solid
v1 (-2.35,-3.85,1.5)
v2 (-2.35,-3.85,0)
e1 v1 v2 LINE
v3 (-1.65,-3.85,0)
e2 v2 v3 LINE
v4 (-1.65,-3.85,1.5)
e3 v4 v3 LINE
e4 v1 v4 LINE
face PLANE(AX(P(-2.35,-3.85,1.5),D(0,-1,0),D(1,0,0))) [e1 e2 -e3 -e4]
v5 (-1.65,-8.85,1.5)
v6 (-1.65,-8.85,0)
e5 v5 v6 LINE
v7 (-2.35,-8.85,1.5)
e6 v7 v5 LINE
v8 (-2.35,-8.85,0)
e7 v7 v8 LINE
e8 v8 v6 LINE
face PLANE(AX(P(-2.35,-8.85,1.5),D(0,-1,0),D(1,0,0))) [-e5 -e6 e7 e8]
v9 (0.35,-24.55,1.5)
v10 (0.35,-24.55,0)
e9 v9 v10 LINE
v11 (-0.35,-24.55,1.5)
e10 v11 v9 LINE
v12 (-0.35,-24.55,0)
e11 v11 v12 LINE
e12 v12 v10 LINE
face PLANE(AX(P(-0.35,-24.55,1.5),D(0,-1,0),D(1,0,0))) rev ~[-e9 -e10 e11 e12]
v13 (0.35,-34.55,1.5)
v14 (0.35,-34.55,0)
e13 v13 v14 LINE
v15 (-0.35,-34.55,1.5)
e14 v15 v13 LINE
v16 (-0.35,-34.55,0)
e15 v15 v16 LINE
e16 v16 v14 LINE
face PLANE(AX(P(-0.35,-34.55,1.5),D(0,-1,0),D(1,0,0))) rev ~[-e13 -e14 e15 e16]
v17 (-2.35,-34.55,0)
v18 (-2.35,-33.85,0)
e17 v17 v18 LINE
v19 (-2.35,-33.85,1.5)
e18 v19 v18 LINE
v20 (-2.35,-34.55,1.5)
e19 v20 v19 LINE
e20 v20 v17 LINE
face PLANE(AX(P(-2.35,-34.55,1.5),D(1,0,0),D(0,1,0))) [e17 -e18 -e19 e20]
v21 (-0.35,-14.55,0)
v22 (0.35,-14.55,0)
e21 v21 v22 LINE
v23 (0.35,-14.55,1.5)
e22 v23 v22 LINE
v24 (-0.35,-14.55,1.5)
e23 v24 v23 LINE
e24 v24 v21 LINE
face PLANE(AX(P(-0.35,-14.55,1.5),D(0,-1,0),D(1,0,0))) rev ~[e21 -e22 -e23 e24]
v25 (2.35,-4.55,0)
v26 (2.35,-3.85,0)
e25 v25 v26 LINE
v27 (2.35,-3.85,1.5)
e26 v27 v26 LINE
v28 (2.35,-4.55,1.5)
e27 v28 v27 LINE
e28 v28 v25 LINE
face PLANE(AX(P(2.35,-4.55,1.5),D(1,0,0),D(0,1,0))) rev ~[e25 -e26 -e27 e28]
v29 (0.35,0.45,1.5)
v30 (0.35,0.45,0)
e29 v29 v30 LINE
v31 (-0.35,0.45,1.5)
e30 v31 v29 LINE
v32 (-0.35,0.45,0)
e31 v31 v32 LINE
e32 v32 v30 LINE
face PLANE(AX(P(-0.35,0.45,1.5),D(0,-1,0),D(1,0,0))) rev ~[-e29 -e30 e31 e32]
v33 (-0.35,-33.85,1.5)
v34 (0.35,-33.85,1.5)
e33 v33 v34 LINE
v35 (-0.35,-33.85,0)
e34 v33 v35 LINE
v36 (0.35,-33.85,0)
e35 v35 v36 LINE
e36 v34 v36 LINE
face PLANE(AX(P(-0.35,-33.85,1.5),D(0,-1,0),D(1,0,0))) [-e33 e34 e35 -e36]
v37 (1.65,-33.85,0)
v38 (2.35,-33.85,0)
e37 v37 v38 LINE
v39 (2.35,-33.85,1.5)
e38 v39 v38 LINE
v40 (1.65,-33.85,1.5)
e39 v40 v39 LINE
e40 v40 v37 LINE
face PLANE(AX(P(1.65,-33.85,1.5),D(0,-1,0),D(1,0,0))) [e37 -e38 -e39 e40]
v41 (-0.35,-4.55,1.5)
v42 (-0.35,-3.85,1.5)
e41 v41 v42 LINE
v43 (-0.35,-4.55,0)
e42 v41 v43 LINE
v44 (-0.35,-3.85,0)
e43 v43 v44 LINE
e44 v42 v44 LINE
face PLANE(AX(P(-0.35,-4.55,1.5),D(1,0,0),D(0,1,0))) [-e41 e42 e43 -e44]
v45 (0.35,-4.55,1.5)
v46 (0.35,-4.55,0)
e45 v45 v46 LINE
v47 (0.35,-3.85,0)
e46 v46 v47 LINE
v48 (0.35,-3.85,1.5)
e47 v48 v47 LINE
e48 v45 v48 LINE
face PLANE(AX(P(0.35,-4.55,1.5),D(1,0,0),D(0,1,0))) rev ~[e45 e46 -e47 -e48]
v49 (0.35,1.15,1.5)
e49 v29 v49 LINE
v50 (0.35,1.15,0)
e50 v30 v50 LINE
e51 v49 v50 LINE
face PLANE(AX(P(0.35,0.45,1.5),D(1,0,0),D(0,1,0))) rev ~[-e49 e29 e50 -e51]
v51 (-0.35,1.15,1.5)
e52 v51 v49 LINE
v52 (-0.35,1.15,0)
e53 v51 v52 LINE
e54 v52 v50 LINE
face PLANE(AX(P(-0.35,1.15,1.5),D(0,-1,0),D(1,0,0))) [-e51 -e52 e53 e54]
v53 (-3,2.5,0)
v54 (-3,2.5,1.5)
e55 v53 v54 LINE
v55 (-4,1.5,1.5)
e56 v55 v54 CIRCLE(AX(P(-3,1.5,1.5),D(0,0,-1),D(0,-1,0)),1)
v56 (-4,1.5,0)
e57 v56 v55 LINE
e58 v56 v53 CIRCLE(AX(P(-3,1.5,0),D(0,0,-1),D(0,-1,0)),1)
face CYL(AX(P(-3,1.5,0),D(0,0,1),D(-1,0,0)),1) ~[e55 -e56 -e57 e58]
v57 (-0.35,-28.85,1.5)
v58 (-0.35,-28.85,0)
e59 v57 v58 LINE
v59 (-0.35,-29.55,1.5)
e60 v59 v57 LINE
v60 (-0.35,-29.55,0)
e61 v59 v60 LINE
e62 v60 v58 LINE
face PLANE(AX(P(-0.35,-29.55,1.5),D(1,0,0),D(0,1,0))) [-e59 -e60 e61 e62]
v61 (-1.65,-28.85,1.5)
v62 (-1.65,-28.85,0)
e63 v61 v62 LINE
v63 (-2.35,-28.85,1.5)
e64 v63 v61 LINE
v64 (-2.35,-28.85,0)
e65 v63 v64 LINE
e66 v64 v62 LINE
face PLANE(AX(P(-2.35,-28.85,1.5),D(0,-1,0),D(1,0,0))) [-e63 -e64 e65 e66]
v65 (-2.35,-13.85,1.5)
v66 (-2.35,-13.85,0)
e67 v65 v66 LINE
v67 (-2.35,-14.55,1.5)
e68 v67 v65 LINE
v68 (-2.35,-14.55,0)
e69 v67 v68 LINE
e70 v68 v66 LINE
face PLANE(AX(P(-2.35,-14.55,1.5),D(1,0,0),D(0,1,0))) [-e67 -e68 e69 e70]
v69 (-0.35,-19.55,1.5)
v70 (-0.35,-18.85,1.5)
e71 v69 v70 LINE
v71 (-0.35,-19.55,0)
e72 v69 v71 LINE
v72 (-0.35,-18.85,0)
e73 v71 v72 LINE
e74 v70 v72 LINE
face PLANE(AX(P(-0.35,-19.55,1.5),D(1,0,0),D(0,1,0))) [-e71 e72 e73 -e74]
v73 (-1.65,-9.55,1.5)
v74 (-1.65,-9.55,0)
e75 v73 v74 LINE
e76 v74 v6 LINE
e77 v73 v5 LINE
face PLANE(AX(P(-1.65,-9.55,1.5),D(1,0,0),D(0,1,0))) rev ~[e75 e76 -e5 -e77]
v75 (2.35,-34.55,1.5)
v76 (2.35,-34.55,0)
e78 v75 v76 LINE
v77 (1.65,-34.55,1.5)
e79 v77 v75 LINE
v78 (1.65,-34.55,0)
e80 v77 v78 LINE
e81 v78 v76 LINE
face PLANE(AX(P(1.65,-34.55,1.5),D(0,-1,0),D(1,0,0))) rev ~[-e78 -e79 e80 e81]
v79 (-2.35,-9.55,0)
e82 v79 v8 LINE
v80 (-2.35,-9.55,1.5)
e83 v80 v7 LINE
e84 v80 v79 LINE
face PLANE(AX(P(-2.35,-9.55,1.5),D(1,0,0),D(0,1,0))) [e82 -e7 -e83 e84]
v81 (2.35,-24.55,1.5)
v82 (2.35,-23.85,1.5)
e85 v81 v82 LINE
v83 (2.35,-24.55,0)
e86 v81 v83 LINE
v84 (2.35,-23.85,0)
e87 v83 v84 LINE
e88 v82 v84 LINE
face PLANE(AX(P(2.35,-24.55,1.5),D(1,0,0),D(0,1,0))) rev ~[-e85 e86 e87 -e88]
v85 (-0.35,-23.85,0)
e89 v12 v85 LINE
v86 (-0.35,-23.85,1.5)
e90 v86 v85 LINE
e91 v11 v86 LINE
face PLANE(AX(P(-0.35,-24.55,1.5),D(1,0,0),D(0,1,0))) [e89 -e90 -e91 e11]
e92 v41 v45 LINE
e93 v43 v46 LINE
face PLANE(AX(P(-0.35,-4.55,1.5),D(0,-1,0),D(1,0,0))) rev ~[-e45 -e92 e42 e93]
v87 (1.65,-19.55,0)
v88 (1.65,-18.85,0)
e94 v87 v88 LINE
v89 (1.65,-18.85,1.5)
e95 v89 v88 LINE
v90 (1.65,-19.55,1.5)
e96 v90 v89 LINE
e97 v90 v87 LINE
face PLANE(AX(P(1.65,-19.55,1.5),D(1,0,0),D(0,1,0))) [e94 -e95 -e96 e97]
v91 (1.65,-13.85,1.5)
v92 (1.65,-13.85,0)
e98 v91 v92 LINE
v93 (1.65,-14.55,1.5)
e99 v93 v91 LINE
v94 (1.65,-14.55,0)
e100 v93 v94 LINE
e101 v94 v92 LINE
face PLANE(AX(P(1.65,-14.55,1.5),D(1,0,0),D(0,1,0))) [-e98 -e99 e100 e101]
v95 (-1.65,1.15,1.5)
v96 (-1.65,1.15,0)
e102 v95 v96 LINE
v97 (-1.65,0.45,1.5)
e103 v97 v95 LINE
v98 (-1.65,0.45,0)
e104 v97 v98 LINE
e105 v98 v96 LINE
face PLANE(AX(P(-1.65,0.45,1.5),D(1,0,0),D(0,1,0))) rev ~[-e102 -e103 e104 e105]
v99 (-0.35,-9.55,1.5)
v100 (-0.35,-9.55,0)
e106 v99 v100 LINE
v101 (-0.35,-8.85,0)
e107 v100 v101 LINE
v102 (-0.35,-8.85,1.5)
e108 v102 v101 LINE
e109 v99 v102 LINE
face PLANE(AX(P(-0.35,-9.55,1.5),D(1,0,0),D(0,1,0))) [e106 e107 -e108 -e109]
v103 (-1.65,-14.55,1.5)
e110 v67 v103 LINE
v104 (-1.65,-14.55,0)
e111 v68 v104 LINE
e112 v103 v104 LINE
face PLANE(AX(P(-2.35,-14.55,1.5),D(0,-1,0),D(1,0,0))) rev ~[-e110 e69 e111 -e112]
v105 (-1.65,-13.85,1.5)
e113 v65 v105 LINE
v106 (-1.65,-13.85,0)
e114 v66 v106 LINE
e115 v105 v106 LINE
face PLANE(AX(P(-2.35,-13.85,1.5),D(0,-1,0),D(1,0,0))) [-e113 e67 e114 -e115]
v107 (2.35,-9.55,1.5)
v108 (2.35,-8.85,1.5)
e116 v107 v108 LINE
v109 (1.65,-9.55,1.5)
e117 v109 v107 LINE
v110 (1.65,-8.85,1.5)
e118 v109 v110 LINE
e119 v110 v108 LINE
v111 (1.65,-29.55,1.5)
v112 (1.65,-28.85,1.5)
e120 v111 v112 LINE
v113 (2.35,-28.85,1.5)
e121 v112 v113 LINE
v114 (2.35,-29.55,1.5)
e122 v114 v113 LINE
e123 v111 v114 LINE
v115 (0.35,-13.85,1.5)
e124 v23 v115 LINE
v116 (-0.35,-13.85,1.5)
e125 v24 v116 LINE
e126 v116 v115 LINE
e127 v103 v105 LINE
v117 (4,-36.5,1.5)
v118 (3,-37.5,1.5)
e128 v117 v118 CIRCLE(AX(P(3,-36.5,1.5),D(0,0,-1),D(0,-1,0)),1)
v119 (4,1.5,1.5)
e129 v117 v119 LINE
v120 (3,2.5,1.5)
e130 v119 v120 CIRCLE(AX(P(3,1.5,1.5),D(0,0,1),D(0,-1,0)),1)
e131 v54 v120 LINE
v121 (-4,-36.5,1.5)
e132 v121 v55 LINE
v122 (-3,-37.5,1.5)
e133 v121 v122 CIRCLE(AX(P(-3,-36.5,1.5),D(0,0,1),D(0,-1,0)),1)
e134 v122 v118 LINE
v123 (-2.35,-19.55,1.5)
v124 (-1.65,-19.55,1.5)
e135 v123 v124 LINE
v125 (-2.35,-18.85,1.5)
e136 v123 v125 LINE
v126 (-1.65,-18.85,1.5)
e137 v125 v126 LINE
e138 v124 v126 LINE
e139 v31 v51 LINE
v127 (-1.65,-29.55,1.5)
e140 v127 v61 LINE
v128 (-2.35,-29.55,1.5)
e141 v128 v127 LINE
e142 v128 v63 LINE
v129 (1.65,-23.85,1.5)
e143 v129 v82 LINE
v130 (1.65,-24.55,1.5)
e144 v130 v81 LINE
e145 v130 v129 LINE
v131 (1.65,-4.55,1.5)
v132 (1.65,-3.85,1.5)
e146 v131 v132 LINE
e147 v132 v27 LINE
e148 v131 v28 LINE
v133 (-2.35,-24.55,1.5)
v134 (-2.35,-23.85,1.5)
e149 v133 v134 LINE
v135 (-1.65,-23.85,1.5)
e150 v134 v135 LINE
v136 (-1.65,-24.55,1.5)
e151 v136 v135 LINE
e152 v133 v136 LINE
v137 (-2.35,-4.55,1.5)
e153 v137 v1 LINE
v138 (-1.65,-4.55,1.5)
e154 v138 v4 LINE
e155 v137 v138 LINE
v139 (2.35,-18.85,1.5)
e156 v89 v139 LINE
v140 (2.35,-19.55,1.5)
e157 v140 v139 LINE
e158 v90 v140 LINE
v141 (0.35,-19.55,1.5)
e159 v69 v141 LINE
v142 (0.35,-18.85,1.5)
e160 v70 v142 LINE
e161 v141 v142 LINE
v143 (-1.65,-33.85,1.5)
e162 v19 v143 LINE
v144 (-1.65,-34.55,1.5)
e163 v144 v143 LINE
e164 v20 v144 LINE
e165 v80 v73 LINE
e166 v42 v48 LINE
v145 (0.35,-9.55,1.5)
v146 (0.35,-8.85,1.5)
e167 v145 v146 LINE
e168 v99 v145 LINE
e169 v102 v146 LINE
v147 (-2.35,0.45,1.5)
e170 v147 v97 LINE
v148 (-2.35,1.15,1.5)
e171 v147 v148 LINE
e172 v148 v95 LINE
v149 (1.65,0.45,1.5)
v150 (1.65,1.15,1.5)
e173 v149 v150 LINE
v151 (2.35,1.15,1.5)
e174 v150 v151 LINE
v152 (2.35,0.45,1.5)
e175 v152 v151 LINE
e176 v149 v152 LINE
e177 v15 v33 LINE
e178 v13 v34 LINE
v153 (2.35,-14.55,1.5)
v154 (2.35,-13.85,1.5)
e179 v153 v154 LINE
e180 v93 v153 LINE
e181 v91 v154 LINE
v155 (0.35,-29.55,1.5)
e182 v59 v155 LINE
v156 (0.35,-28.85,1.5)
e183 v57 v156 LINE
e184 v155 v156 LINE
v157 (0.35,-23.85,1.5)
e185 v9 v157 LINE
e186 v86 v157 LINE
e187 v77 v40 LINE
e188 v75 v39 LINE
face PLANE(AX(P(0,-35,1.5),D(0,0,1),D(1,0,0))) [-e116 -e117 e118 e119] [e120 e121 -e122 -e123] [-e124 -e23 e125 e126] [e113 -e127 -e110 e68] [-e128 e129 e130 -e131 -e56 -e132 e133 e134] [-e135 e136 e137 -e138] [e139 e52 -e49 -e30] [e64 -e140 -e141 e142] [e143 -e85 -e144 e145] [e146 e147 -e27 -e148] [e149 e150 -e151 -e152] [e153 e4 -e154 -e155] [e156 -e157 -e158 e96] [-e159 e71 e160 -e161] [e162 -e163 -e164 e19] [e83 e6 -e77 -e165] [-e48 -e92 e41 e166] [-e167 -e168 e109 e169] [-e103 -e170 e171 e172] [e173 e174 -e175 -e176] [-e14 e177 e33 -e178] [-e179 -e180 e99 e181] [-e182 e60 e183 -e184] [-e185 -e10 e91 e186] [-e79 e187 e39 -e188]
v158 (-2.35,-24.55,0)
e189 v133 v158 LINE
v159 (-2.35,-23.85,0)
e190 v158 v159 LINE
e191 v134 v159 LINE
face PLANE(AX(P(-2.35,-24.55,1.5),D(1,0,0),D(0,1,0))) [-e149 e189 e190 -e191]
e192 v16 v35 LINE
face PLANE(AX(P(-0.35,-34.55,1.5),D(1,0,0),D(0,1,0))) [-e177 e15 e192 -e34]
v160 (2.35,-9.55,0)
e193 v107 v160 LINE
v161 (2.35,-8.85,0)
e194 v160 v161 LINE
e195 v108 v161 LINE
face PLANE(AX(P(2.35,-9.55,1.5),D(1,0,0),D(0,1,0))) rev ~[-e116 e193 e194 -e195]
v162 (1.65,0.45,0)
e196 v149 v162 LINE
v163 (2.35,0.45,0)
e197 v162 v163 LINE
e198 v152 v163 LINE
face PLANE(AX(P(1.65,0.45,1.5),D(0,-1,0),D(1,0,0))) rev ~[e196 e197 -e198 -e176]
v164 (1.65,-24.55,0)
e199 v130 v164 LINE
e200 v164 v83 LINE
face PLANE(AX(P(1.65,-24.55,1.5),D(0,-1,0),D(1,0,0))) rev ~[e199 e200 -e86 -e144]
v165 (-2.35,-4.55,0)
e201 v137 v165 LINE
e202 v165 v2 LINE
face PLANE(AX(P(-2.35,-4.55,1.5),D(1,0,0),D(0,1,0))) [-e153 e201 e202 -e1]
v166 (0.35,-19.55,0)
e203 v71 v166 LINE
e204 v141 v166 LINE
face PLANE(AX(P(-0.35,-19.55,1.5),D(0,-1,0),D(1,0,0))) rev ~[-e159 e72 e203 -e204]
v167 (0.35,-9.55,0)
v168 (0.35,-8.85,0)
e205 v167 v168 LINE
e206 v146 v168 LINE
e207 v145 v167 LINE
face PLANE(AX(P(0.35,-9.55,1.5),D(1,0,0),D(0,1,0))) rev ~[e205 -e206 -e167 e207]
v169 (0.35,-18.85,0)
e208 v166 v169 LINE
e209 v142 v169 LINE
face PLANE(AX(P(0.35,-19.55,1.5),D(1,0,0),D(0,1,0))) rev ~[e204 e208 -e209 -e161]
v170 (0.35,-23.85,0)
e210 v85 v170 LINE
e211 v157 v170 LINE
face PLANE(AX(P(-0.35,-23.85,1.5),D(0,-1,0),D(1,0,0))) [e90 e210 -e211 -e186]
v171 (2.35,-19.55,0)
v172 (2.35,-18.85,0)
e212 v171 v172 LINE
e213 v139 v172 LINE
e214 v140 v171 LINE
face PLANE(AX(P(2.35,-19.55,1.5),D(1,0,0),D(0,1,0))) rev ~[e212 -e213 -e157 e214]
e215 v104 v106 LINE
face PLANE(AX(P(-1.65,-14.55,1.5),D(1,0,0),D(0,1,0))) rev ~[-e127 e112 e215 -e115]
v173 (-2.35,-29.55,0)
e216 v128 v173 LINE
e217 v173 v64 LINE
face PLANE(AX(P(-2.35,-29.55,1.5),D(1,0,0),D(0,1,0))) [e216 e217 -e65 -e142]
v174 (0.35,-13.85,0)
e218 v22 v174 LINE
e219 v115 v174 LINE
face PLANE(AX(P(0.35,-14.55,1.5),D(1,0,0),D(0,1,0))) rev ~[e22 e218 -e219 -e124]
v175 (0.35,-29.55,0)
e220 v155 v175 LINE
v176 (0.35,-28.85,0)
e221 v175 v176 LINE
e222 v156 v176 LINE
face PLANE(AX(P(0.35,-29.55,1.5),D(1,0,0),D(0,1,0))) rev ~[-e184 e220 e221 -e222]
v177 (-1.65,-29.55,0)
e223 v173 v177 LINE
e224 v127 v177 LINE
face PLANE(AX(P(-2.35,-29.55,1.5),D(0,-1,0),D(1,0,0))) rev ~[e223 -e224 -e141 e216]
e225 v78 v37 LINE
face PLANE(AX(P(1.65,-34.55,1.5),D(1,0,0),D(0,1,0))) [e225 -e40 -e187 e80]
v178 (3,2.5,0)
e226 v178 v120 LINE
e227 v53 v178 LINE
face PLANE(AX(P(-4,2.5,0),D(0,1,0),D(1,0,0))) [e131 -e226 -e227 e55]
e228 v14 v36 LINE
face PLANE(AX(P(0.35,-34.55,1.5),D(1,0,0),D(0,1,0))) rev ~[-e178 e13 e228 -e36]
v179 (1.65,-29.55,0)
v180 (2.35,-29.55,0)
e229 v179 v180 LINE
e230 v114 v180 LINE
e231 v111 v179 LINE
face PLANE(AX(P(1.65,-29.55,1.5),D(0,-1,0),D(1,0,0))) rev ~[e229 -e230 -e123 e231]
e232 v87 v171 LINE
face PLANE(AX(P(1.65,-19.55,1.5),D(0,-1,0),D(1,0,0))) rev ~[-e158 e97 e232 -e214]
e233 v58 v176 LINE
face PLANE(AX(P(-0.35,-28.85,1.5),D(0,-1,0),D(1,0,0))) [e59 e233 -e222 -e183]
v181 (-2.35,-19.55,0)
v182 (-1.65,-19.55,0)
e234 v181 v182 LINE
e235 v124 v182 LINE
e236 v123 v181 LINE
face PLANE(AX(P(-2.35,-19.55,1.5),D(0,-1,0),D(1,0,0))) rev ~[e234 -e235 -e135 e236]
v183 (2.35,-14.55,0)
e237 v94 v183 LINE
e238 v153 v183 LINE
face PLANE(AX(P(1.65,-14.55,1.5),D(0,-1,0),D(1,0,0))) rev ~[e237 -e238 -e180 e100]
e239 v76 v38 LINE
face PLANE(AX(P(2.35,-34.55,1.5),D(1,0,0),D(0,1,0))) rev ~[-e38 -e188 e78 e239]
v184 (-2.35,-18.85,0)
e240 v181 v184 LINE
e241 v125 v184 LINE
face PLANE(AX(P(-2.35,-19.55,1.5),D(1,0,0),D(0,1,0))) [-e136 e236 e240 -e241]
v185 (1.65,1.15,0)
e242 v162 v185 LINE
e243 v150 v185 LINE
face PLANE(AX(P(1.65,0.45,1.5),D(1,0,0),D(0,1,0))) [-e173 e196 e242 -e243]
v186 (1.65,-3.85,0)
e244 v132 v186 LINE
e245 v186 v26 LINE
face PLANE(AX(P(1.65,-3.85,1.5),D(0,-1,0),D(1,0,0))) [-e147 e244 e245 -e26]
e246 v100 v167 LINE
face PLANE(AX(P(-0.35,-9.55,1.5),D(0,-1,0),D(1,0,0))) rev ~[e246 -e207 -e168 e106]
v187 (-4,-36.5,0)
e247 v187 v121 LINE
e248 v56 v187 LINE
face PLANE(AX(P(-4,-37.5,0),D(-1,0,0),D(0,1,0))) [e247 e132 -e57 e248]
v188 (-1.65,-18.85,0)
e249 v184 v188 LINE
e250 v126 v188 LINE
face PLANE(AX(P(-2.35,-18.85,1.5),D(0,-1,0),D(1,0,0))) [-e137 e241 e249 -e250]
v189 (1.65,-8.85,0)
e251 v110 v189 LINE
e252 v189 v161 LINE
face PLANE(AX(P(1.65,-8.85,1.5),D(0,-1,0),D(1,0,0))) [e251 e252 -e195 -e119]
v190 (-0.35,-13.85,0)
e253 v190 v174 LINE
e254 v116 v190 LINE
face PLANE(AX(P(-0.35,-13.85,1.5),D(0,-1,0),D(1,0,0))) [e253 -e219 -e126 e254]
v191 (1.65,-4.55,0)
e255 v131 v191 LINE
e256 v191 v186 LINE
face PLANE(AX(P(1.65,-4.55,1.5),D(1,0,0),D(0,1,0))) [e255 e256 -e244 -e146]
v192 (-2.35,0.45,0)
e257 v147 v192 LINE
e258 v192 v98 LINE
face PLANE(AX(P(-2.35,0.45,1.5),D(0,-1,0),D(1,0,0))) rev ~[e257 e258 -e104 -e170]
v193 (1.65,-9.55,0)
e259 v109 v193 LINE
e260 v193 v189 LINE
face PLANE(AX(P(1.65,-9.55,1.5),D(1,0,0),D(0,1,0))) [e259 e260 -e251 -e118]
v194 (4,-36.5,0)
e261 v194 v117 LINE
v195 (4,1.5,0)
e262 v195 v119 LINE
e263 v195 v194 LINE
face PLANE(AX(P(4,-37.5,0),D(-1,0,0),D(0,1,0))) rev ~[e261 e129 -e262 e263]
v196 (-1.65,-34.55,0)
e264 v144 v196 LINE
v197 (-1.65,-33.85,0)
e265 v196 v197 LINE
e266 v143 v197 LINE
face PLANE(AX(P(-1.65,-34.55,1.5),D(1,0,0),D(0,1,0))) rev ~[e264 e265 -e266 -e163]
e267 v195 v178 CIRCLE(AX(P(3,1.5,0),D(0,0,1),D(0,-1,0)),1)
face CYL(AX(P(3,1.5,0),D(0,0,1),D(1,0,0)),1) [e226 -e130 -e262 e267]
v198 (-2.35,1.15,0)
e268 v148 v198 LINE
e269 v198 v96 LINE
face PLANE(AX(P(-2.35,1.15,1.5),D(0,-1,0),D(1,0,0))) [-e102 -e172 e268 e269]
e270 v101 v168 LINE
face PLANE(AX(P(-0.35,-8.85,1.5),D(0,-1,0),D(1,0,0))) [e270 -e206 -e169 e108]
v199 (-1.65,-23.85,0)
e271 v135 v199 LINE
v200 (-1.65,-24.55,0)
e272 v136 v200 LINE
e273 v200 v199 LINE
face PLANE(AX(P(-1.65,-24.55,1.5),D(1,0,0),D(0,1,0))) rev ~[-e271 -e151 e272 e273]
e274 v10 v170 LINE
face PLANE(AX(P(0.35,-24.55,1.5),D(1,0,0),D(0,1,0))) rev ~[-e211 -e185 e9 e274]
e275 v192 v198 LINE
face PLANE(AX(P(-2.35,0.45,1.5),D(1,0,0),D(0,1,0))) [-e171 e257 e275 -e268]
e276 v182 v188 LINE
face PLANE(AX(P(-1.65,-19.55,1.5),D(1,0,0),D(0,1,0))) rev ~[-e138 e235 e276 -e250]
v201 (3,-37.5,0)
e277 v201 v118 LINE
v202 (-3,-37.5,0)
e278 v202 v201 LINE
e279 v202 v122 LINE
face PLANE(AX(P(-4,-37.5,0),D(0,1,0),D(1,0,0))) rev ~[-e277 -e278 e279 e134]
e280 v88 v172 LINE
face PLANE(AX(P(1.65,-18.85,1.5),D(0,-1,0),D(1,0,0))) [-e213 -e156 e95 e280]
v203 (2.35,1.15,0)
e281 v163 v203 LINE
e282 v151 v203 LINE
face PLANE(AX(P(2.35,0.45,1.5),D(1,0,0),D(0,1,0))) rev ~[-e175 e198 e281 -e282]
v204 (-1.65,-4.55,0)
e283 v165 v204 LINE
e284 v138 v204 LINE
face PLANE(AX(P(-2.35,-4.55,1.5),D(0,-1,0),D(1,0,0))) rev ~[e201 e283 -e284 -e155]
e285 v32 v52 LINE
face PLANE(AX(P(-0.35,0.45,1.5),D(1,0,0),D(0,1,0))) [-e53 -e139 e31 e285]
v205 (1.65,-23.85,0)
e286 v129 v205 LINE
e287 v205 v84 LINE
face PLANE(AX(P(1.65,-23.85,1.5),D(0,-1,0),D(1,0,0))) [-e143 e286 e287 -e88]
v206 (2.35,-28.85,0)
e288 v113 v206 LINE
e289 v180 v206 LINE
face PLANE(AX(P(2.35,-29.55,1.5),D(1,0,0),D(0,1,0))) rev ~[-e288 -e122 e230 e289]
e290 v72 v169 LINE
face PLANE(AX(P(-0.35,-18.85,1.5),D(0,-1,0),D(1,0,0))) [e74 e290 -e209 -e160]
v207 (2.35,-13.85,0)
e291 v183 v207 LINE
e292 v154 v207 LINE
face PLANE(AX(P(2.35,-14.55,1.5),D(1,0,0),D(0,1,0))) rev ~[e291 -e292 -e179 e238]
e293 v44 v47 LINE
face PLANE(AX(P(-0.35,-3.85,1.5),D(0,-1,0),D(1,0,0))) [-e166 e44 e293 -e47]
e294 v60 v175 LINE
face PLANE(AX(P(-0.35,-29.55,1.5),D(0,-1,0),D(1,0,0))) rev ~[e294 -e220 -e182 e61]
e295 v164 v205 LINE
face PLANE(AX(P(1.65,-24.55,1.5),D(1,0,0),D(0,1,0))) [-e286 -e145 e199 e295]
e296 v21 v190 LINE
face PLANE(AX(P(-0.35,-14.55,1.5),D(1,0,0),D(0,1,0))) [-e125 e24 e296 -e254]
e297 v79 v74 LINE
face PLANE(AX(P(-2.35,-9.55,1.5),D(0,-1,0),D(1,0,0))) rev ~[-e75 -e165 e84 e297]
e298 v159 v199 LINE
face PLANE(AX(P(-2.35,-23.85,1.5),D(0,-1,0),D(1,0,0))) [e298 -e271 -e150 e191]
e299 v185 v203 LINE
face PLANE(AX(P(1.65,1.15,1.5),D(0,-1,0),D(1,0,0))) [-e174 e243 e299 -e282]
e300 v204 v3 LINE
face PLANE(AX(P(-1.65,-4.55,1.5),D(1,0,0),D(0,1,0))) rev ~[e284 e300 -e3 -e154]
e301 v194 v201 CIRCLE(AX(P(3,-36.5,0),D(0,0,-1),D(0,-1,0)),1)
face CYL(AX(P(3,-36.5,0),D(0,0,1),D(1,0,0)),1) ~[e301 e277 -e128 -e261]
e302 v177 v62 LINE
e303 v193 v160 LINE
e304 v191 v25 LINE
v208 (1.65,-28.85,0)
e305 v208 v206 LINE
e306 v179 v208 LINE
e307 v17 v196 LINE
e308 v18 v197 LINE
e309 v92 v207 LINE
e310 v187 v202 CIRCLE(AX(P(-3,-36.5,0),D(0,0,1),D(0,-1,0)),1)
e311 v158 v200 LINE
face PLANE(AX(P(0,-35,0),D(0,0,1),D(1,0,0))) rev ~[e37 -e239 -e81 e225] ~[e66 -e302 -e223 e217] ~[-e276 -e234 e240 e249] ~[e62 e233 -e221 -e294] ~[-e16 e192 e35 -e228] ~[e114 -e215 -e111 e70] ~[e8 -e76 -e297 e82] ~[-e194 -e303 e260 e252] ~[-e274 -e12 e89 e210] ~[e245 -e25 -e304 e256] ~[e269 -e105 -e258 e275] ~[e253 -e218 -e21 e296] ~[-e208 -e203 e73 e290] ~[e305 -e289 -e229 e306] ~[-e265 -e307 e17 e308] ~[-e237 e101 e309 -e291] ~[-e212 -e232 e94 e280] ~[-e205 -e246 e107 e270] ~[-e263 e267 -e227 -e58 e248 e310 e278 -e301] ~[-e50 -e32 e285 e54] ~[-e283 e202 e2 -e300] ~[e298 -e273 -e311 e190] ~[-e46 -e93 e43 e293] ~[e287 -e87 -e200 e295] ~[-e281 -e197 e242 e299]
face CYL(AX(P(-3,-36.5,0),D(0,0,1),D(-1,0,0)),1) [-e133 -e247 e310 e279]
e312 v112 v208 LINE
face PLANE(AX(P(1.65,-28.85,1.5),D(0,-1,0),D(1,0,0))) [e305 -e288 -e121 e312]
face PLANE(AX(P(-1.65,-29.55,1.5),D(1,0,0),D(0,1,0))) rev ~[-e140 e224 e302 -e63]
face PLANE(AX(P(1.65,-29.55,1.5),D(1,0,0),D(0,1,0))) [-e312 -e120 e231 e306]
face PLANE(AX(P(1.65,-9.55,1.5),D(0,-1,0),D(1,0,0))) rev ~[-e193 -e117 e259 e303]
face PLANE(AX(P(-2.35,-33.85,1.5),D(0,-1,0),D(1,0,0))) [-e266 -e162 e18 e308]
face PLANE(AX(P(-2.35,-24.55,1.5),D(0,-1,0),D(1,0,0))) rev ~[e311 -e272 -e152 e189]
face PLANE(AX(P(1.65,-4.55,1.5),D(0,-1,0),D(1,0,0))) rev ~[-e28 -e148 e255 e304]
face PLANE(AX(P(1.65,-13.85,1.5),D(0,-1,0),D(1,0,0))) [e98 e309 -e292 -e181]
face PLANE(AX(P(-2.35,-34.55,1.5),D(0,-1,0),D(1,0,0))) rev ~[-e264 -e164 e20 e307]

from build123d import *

# Parameters (mm, degrees)
SKETCH1_W           = 8
SKETCH1_H           = 5
BOSS_EXTRUDE1_DEPTH = 1.5
SKETCH2_W           = 0.7
SKETCH2_H           = 0.7
CUT_EXTRUDE1_DEPTH  = 2.5
LPATTERN1_COUNT     = 8
LPATTERN1_PITCH     = 5
FILLET1_R           = 1


with BuildPart() as part:
    # Sketch1 → Boss-Extrude1 (new body)
    with BuildSketch(Plane.XY):
        Rectangle(SKETCH1_W, SKETCH1_H)
    extrude(amount=BOSS_EXTRUDE1_DEPTH)

    # Sketch2 → Cut-Extrude1 (cut, through all)
    with BuildSketch(Plane.XY.offset(1.5)):
        with Locations((-2, 0.8)):
            Rectangle(SKETCH2_W, SKETCH2_H)
        with Locations((0, 0.8)):
            Rectangle(SKETCH2_W, SKETCH2_H)
        with Locations((2, 0.8)):
            Rectangle(SKETCH2_W, SKETCH2_H)
    extrude(amount=-CUT_EXTRUDE1_DEPTH, mode=Mode.SUBTRACT)


with BuildPart() as lpattern1_1:
    # LPattern1: pattern copy
    add(part.part.moved(Location(Vector(0, -1, 0) * (1 * LPATTERN1_PITCH))))


with BuildPart() as lpattern1_2:
    # LPattern1: pattern copy
    add(part.part.moved(Location(Vector(0, -1, 0) * (2 * LPATTERN1_PITCH))))


with BuildPart() as lpattern1_3:
    # LPattern1: pattern copy
    add(part.part.moved(Location(Vector(0, -1, 0) * (3 * LPATTERN1_PITCH))))


with BuildPart() as lpattern1_4:
    # LPattern1: pattern copy
    add(part.part.moved(Location(Vector(0, -1, 0) * (4 * LPATTERN1_PITCH))))


with BuildPart() as lpattern1_5:
    # LPattern1: pattern copy
    add(part.part.moved(Location(Vector(0, -1, 0) * (5 * LPATTERN1_PITCH))))


with BuildPart() as lpattern1_6:
    # LPattern1: pattern copy
    add(part.part.moved(Location(Vector(0, -1, 0) * (6 * LPATTERN1_PITCH))))


with BuildPart() as lpattern1_7:
    # LPattern1: pattern copy
    add(part.part.moved(Location(Vector(0, -1, 0) * (7 * LPATTERN1_PITCH))))


with BuildPart() as part_1:
    add(part.part)

    # Combine1: union LPattern1_1, LPattern1_2, LPattern1_3, LPattern1_4, LPattern1_5, LPattern1_6, LPattern1_7
    add(lpattern1_1.part)
    add(lpattern1_2.part)
    add(lpattern1_3.part)
    add(lpattern1_4.part)
    add(lpattern1_5.part)
    add(lpattern1_6.part)
    add(lpattern1_7.part)

    # Fillet1
    fillet1_edges = [part_1.edges().sort_by_distance(p)[0] for p in [
        (4, -37.5, 0.75),
        (-4, 2.5, 0.75),
        (4, 2.5, 0.75),
        (-4, -37.5, 0.75),
    ]]
    fillet(fillet1_edges, radius=FILLET1_R)


solid = part_1.part
